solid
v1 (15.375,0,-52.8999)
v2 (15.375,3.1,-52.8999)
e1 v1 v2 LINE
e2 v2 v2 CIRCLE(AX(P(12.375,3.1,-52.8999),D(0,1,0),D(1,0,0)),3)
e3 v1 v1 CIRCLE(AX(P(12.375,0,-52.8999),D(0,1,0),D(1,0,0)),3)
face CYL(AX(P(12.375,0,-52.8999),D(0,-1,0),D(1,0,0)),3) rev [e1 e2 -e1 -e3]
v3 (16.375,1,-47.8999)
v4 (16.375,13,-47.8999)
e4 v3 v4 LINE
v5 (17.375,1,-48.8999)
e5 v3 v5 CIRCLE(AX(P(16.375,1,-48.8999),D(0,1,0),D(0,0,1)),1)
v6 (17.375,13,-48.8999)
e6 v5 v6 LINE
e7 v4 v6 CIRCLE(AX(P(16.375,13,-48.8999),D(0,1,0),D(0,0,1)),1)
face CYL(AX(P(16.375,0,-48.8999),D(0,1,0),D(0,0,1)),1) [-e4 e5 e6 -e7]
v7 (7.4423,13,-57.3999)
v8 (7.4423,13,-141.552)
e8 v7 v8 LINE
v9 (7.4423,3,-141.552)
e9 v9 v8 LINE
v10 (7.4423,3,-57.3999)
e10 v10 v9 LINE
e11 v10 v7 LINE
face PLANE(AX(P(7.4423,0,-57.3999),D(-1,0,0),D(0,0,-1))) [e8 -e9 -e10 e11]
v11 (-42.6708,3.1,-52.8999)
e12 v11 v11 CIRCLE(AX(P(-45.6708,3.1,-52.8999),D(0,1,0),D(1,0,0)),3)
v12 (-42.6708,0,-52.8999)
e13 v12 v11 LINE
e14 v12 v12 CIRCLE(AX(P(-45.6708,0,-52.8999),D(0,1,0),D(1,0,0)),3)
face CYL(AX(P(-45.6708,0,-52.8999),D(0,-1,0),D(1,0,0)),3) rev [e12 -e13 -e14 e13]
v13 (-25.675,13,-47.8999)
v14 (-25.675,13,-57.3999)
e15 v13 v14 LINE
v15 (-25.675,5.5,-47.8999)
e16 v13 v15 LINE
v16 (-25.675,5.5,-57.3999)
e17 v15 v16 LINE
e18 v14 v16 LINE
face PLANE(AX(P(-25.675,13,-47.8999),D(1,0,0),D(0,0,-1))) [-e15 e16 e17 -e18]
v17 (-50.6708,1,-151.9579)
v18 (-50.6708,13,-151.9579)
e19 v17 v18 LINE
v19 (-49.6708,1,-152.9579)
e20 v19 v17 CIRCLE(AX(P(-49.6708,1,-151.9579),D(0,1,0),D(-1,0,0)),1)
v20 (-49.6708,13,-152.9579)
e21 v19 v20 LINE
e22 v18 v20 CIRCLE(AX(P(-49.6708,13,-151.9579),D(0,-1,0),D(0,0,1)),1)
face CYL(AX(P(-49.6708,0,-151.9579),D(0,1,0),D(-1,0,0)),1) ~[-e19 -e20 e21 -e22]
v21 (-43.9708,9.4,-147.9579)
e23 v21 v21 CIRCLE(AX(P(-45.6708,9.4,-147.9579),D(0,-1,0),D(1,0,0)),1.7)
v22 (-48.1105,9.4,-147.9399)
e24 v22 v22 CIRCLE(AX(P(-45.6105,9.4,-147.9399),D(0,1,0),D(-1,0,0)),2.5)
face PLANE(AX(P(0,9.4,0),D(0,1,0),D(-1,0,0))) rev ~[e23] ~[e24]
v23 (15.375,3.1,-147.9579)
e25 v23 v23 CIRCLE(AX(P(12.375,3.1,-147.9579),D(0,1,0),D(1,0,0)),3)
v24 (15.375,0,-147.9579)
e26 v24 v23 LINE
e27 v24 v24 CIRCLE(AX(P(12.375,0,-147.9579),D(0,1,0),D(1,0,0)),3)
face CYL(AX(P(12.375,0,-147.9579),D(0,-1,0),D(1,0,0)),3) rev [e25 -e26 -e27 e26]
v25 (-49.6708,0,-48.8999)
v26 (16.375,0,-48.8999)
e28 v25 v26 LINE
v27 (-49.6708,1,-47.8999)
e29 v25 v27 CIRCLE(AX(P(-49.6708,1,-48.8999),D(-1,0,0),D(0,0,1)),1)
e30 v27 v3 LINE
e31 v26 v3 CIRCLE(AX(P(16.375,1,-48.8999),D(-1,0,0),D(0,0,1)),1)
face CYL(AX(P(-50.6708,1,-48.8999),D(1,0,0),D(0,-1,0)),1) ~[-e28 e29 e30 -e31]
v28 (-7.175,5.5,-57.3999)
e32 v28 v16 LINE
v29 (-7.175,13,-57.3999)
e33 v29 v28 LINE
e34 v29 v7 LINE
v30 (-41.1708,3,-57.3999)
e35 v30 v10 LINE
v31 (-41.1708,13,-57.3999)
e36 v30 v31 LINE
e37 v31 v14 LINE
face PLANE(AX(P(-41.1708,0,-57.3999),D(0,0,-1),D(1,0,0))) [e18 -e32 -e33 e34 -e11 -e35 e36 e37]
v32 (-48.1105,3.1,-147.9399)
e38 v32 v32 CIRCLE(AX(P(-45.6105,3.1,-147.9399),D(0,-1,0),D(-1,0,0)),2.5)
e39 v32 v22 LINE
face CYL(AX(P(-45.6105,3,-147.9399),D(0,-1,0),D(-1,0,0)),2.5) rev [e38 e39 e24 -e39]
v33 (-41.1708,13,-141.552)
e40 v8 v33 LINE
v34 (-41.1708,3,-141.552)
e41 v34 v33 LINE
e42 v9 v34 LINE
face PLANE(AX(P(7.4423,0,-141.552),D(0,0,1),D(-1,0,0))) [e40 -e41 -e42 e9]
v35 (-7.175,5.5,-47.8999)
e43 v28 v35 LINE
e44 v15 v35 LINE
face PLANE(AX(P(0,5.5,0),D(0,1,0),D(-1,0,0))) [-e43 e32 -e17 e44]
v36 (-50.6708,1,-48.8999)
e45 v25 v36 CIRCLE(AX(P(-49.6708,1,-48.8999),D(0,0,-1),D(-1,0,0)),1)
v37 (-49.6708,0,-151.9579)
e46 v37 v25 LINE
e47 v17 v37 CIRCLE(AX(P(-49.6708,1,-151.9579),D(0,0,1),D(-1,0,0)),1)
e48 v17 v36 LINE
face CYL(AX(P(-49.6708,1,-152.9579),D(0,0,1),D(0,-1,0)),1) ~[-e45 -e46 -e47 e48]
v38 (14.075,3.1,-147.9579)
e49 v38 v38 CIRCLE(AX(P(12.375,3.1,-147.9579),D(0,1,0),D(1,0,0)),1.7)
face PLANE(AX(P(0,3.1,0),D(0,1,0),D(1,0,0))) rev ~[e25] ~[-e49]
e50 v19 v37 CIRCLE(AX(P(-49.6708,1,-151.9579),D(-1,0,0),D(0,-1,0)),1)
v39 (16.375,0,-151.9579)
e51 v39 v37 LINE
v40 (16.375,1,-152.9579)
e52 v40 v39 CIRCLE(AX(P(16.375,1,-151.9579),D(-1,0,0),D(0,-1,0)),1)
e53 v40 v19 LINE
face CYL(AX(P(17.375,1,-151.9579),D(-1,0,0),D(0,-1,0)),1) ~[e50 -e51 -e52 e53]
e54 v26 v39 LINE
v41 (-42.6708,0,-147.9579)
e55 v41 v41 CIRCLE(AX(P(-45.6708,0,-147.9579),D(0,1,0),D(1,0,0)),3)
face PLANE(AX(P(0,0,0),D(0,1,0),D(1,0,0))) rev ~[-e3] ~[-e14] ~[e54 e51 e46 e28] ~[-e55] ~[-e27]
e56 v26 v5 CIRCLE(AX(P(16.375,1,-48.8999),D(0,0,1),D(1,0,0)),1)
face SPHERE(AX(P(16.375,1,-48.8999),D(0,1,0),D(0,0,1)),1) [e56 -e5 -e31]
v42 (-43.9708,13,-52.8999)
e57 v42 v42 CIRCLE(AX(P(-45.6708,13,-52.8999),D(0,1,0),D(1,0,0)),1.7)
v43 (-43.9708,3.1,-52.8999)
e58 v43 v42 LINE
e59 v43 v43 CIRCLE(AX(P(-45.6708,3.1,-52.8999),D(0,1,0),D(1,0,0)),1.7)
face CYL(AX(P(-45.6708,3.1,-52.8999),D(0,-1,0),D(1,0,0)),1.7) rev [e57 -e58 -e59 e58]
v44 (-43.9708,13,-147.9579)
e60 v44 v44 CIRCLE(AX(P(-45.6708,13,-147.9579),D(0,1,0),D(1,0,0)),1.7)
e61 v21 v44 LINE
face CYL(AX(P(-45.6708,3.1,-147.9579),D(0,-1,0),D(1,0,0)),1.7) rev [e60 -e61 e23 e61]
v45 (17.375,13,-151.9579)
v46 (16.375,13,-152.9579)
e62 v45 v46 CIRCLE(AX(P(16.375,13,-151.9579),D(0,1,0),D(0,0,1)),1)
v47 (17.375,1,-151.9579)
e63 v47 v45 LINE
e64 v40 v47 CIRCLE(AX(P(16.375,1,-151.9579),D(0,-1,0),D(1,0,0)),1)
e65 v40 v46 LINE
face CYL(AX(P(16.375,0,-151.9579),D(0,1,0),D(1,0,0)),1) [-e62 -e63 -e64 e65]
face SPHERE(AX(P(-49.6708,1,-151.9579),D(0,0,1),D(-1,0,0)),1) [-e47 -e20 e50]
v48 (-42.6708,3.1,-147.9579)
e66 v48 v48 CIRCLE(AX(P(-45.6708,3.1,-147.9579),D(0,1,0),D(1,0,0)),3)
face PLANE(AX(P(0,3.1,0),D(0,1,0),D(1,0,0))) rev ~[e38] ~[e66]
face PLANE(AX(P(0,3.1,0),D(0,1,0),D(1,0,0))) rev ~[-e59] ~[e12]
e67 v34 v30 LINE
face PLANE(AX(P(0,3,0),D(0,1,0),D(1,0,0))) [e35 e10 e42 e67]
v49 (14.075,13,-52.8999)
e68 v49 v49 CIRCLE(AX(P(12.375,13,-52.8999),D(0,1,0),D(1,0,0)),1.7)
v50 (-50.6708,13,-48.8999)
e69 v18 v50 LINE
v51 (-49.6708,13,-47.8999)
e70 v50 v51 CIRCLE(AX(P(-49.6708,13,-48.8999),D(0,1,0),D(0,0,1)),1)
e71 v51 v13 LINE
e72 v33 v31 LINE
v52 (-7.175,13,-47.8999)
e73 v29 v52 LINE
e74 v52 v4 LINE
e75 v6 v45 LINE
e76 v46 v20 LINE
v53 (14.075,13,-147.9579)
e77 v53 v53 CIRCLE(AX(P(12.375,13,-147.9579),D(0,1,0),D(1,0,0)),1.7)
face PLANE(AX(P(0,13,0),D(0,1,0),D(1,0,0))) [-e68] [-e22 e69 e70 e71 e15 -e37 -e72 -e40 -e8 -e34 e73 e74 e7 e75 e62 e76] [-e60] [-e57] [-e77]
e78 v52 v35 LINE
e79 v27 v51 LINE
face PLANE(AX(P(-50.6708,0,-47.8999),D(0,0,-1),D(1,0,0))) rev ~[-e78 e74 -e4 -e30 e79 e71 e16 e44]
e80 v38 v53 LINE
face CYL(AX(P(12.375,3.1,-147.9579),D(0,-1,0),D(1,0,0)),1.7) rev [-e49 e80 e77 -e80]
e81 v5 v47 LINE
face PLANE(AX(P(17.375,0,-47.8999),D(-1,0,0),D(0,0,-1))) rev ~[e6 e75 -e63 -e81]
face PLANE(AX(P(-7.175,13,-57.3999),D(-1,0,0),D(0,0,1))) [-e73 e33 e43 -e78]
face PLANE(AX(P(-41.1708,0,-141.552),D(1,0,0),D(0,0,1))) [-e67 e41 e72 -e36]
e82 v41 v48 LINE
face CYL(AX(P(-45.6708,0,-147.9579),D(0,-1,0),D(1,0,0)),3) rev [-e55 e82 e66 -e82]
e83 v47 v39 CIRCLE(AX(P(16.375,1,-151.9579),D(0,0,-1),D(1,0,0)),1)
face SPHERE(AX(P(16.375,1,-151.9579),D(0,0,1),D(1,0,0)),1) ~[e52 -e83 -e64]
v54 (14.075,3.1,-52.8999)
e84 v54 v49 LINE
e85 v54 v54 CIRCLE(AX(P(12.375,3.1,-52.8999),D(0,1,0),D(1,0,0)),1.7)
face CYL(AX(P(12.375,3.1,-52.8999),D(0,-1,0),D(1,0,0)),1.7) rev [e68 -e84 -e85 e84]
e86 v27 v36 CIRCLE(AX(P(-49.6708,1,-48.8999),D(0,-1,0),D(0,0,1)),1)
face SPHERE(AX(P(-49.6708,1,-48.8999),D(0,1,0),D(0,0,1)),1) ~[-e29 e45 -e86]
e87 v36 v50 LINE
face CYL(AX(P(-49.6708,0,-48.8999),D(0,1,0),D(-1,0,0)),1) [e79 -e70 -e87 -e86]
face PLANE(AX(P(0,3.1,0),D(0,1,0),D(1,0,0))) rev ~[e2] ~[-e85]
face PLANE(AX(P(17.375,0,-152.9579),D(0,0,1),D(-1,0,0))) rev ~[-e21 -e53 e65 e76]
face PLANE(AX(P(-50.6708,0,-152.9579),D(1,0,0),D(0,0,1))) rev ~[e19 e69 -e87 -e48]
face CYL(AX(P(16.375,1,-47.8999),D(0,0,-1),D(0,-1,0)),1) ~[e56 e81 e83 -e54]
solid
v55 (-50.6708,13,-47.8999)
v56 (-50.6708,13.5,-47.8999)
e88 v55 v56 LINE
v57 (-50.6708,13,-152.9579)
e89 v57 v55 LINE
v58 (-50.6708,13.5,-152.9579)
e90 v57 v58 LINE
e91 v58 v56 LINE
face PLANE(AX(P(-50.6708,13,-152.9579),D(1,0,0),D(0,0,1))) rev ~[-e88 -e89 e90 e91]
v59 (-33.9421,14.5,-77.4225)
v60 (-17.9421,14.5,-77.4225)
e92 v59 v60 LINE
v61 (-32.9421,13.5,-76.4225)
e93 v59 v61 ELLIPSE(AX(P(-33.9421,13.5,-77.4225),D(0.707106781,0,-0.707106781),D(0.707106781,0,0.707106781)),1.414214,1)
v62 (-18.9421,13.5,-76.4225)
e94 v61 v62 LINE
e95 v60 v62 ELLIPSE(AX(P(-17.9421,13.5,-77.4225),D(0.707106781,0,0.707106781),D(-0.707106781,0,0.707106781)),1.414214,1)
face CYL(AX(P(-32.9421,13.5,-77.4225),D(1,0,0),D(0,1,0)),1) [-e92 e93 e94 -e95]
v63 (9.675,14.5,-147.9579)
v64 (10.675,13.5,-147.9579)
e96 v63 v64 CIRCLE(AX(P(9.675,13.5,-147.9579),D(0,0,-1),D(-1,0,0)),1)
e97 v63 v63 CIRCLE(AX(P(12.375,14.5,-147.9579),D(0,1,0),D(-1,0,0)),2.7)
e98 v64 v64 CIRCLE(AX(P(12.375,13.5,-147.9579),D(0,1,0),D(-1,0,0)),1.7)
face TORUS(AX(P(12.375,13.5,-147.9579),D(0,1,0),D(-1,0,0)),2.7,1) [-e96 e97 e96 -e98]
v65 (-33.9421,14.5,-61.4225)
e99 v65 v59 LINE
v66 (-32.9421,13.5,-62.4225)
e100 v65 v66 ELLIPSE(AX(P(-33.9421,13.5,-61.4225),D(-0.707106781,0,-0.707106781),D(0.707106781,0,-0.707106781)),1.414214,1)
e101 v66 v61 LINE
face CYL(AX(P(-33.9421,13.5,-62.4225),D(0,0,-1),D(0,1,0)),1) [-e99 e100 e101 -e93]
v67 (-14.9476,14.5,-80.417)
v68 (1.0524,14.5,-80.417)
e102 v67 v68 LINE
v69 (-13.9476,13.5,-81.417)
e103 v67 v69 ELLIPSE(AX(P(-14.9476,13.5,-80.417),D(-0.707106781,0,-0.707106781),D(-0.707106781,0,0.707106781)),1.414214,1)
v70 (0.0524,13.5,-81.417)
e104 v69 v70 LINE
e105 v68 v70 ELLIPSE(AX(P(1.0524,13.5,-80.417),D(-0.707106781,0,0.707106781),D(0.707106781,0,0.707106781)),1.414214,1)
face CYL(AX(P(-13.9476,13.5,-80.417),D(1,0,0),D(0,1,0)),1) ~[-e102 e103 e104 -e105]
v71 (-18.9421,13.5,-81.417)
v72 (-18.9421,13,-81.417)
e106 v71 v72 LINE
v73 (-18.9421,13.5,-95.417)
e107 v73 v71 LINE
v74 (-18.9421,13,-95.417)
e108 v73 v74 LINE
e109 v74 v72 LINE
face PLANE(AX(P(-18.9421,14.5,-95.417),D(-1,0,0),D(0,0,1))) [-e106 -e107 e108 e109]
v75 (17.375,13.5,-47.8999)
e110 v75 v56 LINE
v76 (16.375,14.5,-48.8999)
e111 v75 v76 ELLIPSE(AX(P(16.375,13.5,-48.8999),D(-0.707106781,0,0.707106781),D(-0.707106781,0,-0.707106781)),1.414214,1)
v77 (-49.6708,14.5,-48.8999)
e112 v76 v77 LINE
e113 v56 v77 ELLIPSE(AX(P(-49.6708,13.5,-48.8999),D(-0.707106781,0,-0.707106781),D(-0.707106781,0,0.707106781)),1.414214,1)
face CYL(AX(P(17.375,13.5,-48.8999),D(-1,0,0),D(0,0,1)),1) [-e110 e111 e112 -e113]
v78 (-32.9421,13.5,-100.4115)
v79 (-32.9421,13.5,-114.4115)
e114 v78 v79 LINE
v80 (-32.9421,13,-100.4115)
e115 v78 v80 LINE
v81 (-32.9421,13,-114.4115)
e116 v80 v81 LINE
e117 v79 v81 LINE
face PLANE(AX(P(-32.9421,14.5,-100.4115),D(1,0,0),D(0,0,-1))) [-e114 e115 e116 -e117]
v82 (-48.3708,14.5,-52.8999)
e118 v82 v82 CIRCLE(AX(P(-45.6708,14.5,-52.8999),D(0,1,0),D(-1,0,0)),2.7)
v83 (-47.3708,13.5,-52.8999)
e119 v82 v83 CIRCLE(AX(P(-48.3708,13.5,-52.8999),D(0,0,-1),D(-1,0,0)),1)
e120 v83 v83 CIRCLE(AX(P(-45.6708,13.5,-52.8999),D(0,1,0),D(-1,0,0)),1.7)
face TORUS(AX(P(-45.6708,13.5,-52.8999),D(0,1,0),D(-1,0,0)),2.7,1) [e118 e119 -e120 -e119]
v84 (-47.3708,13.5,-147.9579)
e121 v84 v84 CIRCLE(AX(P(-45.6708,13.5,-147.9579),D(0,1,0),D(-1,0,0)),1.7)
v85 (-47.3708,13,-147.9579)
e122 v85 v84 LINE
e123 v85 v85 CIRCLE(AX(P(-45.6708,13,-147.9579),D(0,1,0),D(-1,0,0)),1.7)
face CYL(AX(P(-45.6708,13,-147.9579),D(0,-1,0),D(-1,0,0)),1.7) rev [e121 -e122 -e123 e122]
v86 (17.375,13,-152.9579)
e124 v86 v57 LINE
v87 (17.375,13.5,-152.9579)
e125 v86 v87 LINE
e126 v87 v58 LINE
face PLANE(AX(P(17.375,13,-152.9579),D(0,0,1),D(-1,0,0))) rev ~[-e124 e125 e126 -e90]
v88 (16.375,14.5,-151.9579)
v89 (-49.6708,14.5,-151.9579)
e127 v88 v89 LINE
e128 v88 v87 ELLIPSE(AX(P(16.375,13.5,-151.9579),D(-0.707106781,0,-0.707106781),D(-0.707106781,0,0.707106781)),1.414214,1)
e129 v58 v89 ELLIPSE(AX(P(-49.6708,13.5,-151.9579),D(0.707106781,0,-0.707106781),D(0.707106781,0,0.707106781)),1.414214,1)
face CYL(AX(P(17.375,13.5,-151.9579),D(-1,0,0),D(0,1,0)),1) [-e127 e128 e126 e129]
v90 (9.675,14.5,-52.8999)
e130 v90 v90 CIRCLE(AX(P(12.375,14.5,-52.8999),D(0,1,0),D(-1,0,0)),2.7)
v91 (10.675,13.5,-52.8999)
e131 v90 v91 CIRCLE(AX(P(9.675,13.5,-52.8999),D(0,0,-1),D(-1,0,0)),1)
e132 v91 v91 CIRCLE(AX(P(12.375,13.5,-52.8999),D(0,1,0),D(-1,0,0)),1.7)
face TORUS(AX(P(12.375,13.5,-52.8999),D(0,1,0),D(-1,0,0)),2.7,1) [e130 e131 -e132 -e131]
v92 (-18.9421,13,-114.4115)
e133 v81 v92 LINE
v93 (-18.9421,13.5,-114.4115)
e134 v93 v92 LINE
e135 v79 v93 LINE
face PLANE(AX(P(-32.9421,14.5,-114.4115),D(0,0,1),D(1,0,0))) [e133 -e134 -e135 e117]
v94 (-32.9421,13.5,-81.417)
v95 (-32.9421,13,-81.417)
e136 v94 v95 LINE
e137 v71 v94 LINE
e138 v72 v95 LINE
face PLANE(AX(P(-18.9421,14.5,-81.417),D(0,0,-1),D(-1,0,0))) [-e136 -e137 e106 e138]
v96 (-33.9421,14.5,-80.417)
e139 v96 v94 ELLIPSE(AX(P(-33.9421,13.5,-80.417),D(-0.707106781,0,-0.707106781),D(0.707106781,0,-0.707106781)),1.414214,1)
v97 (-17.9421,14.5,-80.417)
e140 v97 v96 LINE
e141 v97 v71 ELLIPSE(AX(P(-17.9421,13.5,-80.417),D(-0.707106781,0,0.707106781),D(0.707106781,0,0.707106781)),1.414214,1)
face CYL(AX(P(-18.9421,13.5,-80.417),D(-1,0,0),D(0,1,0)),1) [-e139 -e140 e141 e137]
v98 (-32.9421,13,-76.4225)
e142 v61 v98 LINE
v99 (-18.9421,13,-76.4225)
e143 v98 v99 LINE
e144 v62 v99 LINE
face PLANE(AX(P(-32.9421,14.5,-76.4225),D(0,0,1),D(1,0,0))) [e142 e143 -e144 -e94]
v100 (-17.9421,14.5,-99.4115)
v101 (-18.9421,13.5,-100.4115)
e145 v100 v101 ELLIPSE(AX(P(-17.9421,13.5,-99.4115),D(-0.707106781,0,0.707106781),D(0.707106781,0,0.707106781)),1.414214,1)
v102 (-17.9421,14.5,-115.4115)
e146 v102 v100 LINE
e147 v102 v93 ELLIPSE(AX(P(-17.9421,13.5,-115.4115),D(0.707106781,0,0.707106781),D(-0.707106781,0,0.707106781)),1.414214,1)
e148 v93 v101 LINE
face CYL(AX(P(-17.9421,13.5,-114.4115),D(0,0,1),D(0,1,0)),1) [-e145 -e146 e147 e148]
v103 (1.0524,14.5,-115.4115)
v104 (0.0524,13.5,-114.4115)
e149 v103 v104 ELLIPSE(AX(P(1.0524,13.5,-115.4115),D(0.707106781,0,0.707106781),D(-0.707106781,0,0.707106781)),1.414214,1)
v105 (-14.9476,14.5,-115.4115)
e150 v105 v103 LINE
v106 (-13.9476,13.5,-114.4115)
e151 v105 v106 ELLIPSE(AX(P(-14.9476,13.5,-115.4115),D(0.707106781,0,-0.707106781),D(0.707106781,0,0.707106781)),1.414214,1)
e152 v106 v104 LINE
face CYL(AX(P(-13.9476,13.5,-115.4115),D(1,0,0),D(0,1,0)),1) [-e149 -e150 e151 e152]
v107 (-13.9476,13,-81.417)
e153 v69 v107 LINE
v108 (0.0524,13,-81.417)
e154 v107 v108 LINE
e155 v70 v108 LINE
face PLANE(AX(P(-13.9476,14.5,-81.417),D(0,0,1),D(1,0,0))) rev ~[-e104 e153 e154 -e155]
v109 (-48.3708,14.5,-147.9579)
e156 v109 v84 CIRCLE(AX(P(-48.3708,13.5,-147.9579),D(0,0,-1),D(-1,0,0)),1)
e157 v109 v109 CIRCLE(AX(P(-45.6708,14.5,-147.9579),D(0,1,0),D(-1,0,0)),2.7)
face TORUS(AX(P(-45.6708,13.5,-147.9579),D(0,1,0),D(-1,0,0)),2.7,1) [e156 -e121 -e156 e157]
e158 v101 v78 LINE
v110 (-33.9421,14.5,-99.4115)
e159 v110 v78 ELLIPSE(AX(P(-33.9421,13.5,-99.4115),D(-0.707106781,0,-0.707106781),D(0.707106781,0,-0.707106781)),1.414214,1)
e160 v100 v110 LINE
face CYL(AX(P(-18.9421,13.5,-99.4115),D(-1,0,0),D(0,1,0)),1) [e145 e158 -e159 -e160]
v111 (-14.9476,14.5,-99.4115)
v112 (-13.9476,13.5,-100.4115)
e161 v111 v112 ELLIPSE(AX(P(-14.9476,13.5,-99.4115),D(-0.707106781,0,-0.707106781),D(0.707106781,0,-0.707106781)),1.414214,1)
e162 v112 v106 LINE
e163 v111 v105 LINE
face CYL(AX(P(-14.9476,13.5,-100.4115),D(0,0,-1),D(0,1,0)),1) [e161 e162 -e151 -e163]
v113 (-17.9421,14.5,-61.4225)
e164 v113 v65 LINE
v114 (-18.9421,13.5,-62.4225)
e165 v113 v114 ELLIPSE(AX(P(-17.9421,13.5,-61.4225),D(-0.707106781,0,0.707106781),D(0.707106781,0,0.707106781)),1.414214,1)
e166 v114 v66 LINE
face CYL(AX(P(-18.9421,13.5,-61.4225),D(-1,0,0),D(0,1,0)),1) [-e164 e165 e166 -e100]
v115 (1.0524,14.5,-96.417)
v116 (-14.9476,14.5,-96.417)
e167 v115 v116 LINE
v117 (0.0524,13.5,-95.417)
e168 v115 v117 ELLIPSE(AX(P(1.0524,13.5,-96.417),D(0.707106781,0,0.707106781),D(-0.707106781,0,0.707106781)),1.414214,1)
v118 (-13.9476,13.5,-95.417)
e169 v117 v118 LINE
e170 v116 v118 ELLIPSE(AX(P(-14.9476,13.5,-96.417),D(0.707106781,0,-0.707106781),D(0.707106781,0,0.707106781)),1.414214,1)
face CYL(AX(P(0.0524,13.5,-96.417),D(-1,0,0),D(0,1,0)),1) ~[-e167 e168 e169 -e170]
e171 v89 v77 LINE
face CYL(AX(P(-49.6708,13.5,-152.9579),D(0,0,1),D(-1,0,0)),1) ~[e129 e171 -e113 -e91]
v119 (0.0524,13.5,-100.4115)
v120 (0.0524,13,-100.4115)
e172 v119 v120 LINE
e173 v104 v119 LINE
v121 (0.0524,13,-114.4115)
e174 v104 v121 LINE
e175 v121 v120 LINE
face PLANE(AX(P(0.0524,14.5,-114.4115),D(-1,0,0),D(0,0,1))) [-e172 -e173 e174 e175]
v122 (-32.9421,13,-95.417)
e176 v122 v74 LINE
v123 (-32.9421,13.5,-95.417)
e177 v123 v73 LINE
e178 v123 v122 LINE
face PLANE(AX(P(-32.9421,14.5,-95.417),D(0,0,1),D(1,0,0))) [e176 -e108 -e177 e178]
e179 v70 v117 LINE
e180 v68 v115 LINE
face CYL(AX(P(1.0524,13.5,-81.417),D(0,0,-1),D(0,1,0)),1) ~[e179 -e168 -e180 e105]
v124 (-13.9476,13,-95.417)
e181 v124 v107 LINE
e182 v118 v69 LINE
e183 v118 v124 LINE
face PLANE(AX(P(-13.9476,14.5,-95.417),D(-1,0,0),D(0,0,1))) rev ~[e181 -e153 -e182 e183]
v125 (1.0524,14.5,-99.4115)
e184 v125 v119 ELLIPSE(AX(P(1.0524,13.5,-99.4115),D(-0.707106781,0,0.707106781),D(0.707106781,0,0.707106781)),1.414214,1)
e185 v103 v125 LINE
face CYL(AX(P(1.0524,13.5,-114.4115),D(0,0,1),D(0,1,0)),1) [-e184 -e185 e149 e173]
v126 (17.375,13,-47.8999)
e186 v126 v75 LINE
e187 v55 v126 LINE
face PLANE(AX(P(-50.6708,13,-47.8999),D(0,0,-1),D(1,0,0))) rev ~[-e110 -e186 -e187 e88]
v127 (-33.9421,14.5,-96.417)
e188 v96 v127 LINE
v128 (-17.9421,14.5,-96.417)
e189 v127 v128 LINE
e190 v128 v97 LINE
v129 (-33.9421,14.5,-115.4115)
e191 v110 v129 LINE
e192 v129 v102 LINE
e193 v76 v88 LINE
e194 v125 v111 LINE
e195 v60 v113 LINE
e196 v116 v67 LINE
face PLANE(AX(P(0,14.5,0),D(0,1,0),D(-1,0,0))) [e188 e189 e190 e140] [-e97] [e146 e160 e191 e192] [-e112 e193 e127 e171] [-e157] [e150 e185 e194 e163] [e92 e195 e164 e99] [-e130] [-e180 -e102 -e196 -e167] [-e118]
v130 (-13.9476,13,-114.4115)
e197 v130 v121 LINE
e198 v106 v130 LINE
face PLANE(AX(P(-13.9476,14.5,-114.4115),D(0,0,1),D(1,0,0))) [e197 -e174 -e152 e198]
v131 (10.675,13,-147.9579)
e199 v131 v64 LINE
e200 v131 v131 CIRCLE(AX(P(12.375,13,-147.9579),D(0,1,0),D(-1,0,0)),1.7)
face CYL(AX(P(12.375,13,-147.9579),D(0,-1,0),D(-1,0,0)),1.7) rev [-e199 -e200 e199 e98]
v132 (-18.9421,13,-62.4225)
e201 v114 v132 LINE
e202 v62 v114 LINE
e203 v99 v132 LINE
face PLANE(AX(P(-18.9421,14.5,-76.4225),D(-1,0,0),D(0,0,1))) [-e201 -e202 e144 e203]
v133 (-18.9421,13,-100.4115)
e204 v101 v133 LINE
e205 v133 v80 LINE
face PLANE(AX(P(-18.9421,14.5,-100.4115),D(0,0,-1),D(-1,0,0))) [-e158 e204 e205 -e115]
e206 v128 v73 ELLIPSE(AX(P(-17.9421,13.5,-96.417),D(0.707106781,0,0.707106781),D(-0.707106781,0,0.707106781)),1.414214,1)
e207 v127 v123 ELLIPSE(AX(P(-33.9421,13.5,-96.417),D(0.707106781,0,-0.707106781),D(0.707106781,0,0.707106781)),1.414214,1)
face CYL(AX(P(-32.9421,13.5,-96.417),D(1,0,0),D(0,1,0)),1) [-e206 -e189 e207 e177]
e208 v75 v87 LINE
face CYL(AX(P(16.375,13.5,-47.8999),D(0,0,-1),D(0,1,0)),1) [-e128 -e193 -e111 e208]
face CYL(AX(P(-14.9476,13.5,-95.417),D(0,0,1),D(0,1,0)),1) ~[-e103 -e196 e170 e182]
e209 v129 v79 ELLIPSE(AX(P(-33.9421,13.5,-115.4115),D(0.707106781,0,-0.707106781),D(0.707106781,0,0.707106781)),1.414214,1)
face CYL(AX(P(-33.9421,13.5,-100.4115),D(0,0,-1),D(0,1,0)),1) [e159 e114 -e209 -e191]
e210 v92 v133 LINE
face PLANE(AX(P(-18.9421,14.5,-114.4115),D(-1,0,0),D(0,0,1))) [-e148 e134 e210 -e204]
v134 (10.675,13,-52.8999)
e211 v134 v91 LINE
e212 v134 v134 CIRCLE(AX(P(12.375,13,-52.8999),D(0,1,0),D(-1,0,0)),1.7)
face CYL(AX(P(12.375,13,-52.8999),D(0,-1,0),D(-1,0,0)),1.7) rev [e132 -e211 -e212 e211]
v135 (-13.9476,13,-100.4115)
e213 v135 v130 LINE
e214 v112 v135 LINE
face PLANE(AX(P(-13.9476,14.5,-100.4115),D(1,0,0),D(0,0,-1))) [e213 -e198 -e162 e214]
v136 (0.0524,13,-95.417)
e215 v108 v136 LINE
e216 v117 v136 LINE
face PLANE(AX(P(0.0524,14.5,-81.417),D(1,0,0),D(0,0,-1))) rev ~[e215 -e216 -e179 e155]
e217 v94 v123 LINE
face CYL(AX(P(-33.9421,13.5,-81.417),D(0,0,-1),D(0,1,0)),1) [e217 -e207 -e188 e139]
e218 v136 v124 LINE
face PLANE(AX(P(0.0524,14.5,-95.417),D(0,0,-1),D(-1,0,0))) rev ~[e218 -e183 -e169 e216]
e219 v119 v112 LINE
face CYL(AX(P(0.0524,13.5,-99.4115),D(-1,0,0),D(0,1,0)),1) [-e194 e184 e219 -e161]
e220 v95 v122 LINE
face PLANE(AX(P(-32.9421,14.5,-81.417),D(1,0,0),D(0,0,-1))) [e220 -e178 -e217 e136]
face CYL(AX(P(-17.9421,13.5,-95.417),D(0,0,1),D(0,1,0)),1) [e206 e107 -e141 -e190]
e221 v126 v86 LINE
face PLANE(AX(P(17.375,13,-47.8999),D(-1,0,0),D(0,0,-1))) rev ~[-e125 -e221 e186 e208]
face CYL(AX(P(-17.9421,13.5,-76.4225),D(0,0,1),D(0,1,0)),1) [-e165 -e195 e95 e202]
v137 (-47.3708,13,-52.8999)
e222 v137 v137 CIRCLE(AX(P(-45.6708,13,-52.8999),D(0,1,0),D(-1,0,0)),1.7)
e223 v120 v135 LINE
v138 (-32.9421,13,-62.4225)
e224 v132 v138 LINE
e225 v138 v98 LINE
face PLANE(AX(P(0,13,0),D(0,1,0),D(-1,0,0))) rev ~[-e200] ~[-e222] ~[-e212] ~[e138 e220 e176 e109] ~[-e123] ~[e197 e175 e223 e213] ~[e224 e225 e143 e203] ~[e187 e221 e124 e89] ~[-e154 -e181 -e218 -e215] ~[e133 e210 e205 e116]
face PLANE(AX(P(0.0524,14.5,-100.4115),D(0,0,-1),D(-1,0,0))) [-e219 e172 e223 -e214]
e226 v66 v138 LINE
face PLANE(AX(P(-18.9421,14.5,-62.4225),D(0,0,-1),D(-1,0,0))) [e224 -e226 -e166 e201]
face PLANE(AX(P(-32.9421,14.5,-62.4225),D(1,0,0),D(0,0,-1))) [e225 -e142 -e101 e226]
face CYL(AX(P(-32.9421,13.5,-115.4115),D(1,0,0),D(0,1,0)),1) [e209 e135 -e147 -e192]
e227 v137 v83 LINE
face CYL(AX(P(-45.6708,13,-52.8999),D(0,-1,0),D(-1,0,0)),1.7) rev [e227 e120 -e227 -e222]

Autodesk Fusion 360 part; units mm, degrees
sketch "Sketch1" plane through (0, 0, 0) normal (0, 1, 0) x (1, 0, 0)
  line L0 (-41.1708, 57.3999) -> (7.4423, 57.3999)
  line L1 (7.4423, 57.3999) -> (7.4423, 141.552)
  line L2 (7.4423, 141.552) -> (-41.1708, 141.552)
  line L3 (-41.1708, 141.552) -> (-41.1708, 57.3999)
  line L4 (-50.6708, 47.8999) -> (17.375, 47.8999)
  line L5 (17.375, 47.8999) -> (17.375, 152.9579)
  line L6 (17.375, 152.9579) -> (-50.6708, 152.9579)
  line L7 (-50.6708, 152.9579) -> (-50.6708, 47.8999)
  circle A0 centre (-45.6708, 147.9579) radius 1.7
  circle A1 centre (-45.6708, 52.8999) radius 1.7
  circle A2 centre (12.375, 52.8999) radius 1.7
  circle A3 centre (12.375, 147.9579) radius 1.7
  circle A4 centre (-45.6708, 52.8999) radius 3
  circle A5 centre (12.375, 52.8999) radius 3
  circle A6 centre (12.375, 147.9579) radius 3
  circle A7 centre (-45.6708, 147.9579) radius 3
  dimension "d1" = 105.058
  dimension "d2" = 68.0458
  dimension "d3" = 48.6131
  dimension "d4" = 84.1522
  dimension "d5" = 9.5
  dimension "d6" = 9.5
  dimension "d7" = 3.4
  dimension "d8" = 5
  dimension "d9" = 5
  dimension "d10" = 3.4
  dimension "d11" = 5
  dimension "d12" = 5
  dimension "d13" = 3.4
  dimension "d14" = 5
  dimension "d15" = 5
  dimension "d16" = 3.4
  dimension "d17" = 5
  dimension "d18" = 5
  dimension "d19" = 6
  dimension "d20" = 6
  dimension "d21" = 6
  dimension "d22" = 6
extrude "Extrude1" add sketch "Sketch1" along normal blind 9.9 from surface at 3.1 contours A4 | A5 | A6 | A7 makes body 1 at (-48.667, 9.7, -52.7503) makes body 2 at (-42.9063, 9.7, -149.1232) makes body 3 at (15.3713, 9.7, -52.7503) makes body 4 at (9.6106, 9.7, -149.1232)
extrude "Extrude2" add sketch "Sketch1" along normal blind 13 contours L4 L5 L6 L7 bodies 1 2 3 4
extrude "Extrude3" add sketch "Sketch1" along normal blind 3 contours L0 L1 L2 L3 bodies 1
sketch "Sketch2" plane through (0, 13, 0) normal (0, 1, 0) x (-1, 0, 0)
  circle A0 centre (45.6708, -52.8999) radius 1.7
  circle A1 centre (-12.375, -147.9579) radius 1.7
  line L0 (41.1708, -57.3999) -> (41.1708, -141.552)
  line L1 (41.1708, -141.552) -> (-7.4423, -141.552)
  line L2 (-7.4423, -141.552) -> (-7.4423, -57.3999)
  line L3 (-7.4423, -57.3999) -> (41.1708, -57.3999)
  line L4 (50.6708, -152.9579) -> (50.6708, -47.8999)
  line L5 (50.6708, -47.8999) -> (-17.375, -47.8999)
  line L6 (-17.375, -47.8999) -> (-17.375, -152.9579)
  line L7 (-17.375, -152.9579) -> (50.6708, -152.9579)
  circle A2 centre (45.6708, -147.9579) radius 1.7
  circle A3 centre (-12.375, -52.8999) radius 1.7
  line L8 (7.175, -47.8999) -> (25.675, -47.8999)
  line L9 (25.675, -47.8999) -> (25.675, -57.3999)
  line L10 (25.675, -57.3999) -> (7.175, -57.3999)
  line L11 (7.175, -57.3999) -> (7.175, -47.8999)
  line L12 (-17.375, -47.8999) -> (-17.375, -152.9579)
  line L13 (-17.375, -152.9579) -> (50.6708, -152.9579)
  line L14 (50.6708, -152.9579) -> (50.6708, -47.8999)
  line L15 (50.6708, -47.8999) -> (-17.375, -47.8999)
  line L16 (-17.375, -47.8999) -> (-17.375, -152.9579)
  point P0 (50.6708, -152.9579)
  point P1 (-17.375, -152.9579)
  point P2 (50.6708, -47.8999)
  point P3 (-17.375, -47.8999)
  dimension "d30" = 18.5
  dimension "d32" = 24.55
extrude "Extrude4" cut sketch "Sketch2" against normal blind 7.5 contours L3 L5 L8 L9 L10 L11 L15 bodies 1
sketch "Sketch3" plane through (0, 0, 0) normal (0, 1, 0) x (1, 0, 0)
sketch "Sketch4" plane through (0, 3, 0) normal (0, 1, 0) x (-1, 0, 0)
  line L0 (41.1708, -141.552) -> (41.1708, -57.3999)
  line L1 (41.1708, -57.3999) -> (-7.4423, -57.3999)
  line L2 (-7.4423, -57.3999) -> (-7.4423, -141.552)
  line L3 (-7.4423, -141.552) -> (41.1708, -141.552)
  line L4 (6.8441, -1.7803) -> (6.8447, -1.7809)
  line L5 (6.8447, -1.7809) -> (6.8447, -1.7812)
  line L6 (6.8447, -1.7812) -> (6.8447, -5.0625)
  line L7 (6.8447, -5.0625) -> (6.8447, -5.0629)
  line L8 (6.8447, -5.0629) -> (6.8441, -5.0634)
  line L9 (6.8441, -5.0634) -> (6.8438, -5.0635)
  line L10 (6.8438, -5.0635) -> (4.9688, -5.0635)
  line L11 (4.9688, -5.0635) -> (4.9684, -5.0634)
  line L12 (4.9684, -5.0634) -> (4.9678, -5.0629)
  line L13 (4.9678, -5.0629) -> (4.9678, -5.0625)
  line L14 (4.9678, -5.0625) -> (4.9678, -1.7812)
  line L15 (4.9678, -1.7812) -> (4.9678, -1.7809)
  line L16 (4.9678, -1.7809) -> (4.9684, -1.7803)
  line L17 (4.9684, -1.7803) -> (4.9688, -1.7803)
  line L18 (4.9688, -1.7803) -> (6.8438, -1.7803)
  line L19 (6.8438, -1.7803) -> (6.8441, -1.7803)
  line L20 (4.9697, -1.7822) -> (4.9697, -5.0615)
  line L21 (4.9697, -5.0615) -> (6.8428, -5.0615)
  line L22 (6.8428, -5.0615) -> (6.8428, -1.7822)
  line L23 (6.8428, -1.7822) -> (4.9697, -1.7822)
  circle A0 centre (6.75, -4.9688) radius 0.0433
  circle A1 centre (5.0625, -4.9688) radius 0.0433
  circle A2 centre (6.75, -1.875) radius 0.0433
  circle A3 centre (5.0625, -1.875) radius 0.0433
  circle A4 centre (5.3312, -3.0938) radius 0.0335
  circle A5 centre (5.5312, -3.0938) radius 0.0787
  circle A6 centre (5.7313, -3.0938) radius 0.0335
  circle A7 centre (5.6312, -2.8937) radius 0.0295
  circle A8 centre (5.3812, -2.9937) radius 0.0295
  circle A9 centre (6.0813, -3.0938) radius 0.0335
  circle A10 centre (6.2812, -3.0938) radius 0.0787
  circle A11 centre (6.4813, -3.0938) radius 0.0335
  circle A12 centre (6.3813, -2.8937) radius 0.0295
  circle A13 centre (6.1313, -2.9937) radius 0.0295
  circle A14 centre (5.5858, -1.8956) radius 0.0175
  circle A15 centre (5.5858, -1.9956) radius 0.0175
  circle A16 centre (5.5858, -2.0956) radius 0.0175
  circle A17 centre (5.5858, -2.1956) radius 0.0175
  circle A18 centre (5.5858, -2.2956) radius 0.0175
  circle A19 centre (5.5858, -2.3956) radius 0.0175
  circle A20 centre (5.5858, -2.4956) radius 0.0175
  circle A21 centre (6.1858, -2.4956) radius 0.0175
  circle A22 centre (6.1858, -2.3956) radius 0.0175
  circle A23 centre (6.1858, -2.2956) radius 0.0175
  circle A24 centre (6.1858, -2.1956) radius 0.0175
  circle A25 centre (6.1858, -2.0956) radius 0.0175
  circle A26 centre (6.1858, -1.9956) radius 0.0175
  circle A27 centre (6.1858, -1.8956) radius 0.0175
  circle A28 centre (6.0813, -3.8438) radius 0.0335
  circle A29 centre (6.2812, -3.8438) radius 0.0787
  circle A30 centre (6.4813, -3.8438) radius 0.0335
  circle A31 centre (6.3813, -3.6437) radius 0.0295
  circle A32 centre (6.1313, -3.7438) radius 0.0295
  circle A33 centre (5.3312, -3.8438) radius 0.0335
  circle A34 centre (5.5312, -3.8438) radius 0.0787
  circle A35 centre (5.7313, -3.8438) radius 0.0335
  circle A36 centre (5.6312, -3.6437) radius 0.0295
  circle A37 centre (5.3812, -3.7438) radius 0.0295
  circle A38 centre (5.3312, -4.5938) radius 0.0335
  circle A39 centre (5.5312, -4.5938) radius 0.0787
  circle A40 centre (5.7313, -4.5938) radius 0.0335
  circle A41 centre (5.6312, -4.3937) radius 0.0295
  circle A42 centre (5.3812, -4.4938) radius 0.0295
  circle A43 centre (6.75, -4.9688) radius 0.0433
  circle A44 centre (5.0625, -4.9688) radius 0.0433
  circle A45 centre (6.75, -1.875) radius 0.0433
  circle A46 centre (5.0625, -1.875) radius 0.0433
  circle A47 centre (5.3312, -3.0938) radius 0.0335
  circle A48 centre (5.5312, -3.0938) radius 0.0787
  circle A49 centre (5.7313, -3.0938) radius 0.0335
  circle A50 centre (5.6312, -2.8937) radius 0.0295
  circle A51 centre (5.3812, -2.9937) radius 0.0295
  circle A52 centre (6.0813, -3.0938) radius 0.0335
  circle A53 centre (6.2812, -3.0938) radius 0.0787
  circle A54 centre (6.4813, -3.0938) radius 0.0335
  circle A55 centre (6.3813, -2.8937) radius 0.0295
  circle A56 centre (6.1313, -2.9937) radius 0.0295
  circle A57 centre (5.5858, -1.8956) radius 0.0175
  circle A58 centre (5.5858, -1.9956) radius 0.0175
  circle A59 centre (5.5858, -2.0956) radius 0.0175
  circle A60 centre (5.5858, -2.1956) radius 0.0175
  circle A61 centre (5.5858, -2.2956) radius 0.0175
  circle A62 centre (5.5858, -2.3956) radius 0.0175
  circle A63 centre (5.5858, -2.4956) radius 0.0175
  circle A64 centre (6.1858, -2.4956) radius 0.0175
  circle A65 centre (6.1858, -2.3956) radius 0.0175
  circle A66 centre (6.1858, -2.2956) radius 0.0175
  circle A67 centre (6.1858, -2.1956) radius 0.0175
  circle A68 centre (6.1858, -2.0956) radius 0.0175
  circle A69 centre (6.1858, -1.9956) radius 0.0175
  circle A70 centre (6.1858, -1.8956) radius 0.0175
  circle A71 centre (6.0813, -3.8438) radius 0.0335
  circle A72 centre (6.2812, -3.8438) radius 0.0787
  circle A73 centre (6.4813, -3.8438) radius 0.0335
  circle A74 centre (6.3813, -3.6437) radius 0.0295
  circle A75 centre (6.1313, -3.7438) radius 0.0295
  circle A76 centre (5.3312, -3.8438) radius 0.0335
  circle A77 centre (5.5312, -3.8438) radius 0.0787
  circle A78 centre (5.7313, -3.8438) radius 0.0335
  circle A79 centre (5.6312, -3.6437) radius 0.0295
  circle A80 centre (5.3812, -3.7438) radius 0.0295
  circle A81 centre (5.3312, -4.5938) radius 0.0335
  circle A82 centre (5.5312, -4.5938) radius 0.0787
  circle A83 centre (5.7313, -4.5938) radius 0.0335
  circle A84 centre (5.6312, -4.3937) radius 0.0295
  circle A85 centre (5.3812, -4.4938) radius 0.0295
  circle A86 centre (45.6105, -147.9399) radius 2.5
  circle A87 centre (-12.2673, -147.927) radius 2.5
  curve A88
  circle A89 centre (-12.3196, -52.8556) radius 2.5
  dimension "d35" = 5
  dimension "d36" = 5
  dimension "d37" = 5
  dimension "d38" = 5
extrude "Extrude5" cut sketch "Sketch4" along normal blind 6.4 contours A86 bodies 1
sketch "macropad-Edge_Cuts" plane through (0, 3, 0) normal (0, 1, 0) x (0, 0, 1)
  line L0 (6.8441, -1.7803) -> (6.8447, -1.7809)
  line L1 (6.8447, -1.7809) -> (6.8447, -1.7812)
  line L2 (6.8447, -1.7812) -> (6.8447, -5.0625)
  line L3 (6.8447, -5.0625) -> (6.8447, -5.0629)
  line L4 (6.8447, -5.0629) -> (6.8441, -5.0634)
  line L5 (6.8441, -5.0634) -> (6.8438, -5.0635)
  line L6 (6.8438, -5.0635) -> (4.9688, -5.0635)
  line L7 (4.9688, -5.0635) -> (4.9684, -5.0634)
  line L8 (4.9684, -5.0634) -> (4.9678, -5.0629)
  line L9 (4.9678, -5.0629) -> (4.9678, -5.0625)
  line L10 (4.9678, -5.0625) -> (4.9678, -1.7812)
  line L11 (4.9678, -1.7812) -> (4.9678, -1.7809)
  line L12 (4.9678, -1.7809) -> (4.9684, -1.7803)
  line L13 (4.9684, -1.7803) -> (4.9688, -1.7803)
  line L14 (4.9688, -1.7803) -> (6.8438, -1.7803)
  line L15 (6.8438, -1.7803) -> (6.8441, -1.7803)
  line L16 (4.9697, -1.7822) -> (4.9697, -5.0615)
  line L17 (4.9697, -5.0615) -> (6.8428, -5.0615)
  line L18 (6.8428, -5.0615) -> (6.8428, -1.7822)
  line L19 (6.8428, -1.7822) -> (4.9697, -1.7822)
  circle A0 centre (6.75, -4.9688) radius 0.0433
  circle A1 centre (-33.7206, -2.9937) radius 0.0433
  circle A2 centre (6.75, -1.875) radius 0.0433
  circle A3 centre (5.0625, -1.875) radius 0.0433
  circle A4 centre (5.3312, -3.0938) radius 0.0335
  circle A5 centre (5.5312, -3.0938) radius 0.0787
  circle A6 centre (5.7313, -3.0938) radius 0.0335
  circle A7 centre (5.6312, -2.8937) radius 0.0295
  circle A8 centre (5.3812, -2.9937) radius 0.0295
  circle A9 centre (6.0813, -3.0938) radius 0.0335
  circle A10 centre (6.2812, -3.0938) radius 0.0787
  circle A11 centre (6.4813, -3.0938) radius 0.0335
  circle A12 centre (6.3813, -2.8937) radius 0.0295
  circle A13 centre (6.1313, -2.9937) radius 0.0295
  circle A14 centre (5.5858, -1.8956) radius 0.0175
  circle A15 centre (5.5858, -1.9956) radius 0.0175
  circle A16 centre (5.5858, -2.0956) radius 0.0175
  circle A17 centre (5.5858, -2.1956) radius 0.0175
  circle A18 centre (5.5858, -2.2956) radius 0.0175
  circle A19 centre (5.5858, -2.3956) radius 0.0175
  circle A20 centre (5.5858, -2.4956) radius 0.0175
  circle A21 centre (6.1858, -2.4956) radius 0.0175
  circle A22 centre (6.1858, -2.3956) radius 0.0175
  circle A23 centre (6.1858, -2.2956) radius 0.0175
  circle A24 centre (6.1858, -2.1956) radius 0.0175
  circle A25 centre (6.1858, -2.0956) radius 0.0175
  circle A26 centre (6.1858, -1.9956) radius 0.0175
  circle A27 centre (6.1858, -1.8956) radius 0.0175
  circle A28 centre (6.0813, -3.8438) radius 0.0335
  circle A29 centre (6.2812, -3.8438) radius 0.0787
  circle A30 centre (6.4813, -3.8438) radius 0.0335
  circle A31 centre (6.3813, -3.6437) radius 0.0295
  circle A32 centre (6.1313, -3.7438) radius 0.0295
  circle A33 centre (5.3312, -3.8438) radius 0.0335
  circle A34 centre (5.5312, -3.8438) radius 0.0787
  circle A35 centre (5.7313, -3.8438) radius 0.0335
  circle A36 centre (5.6312, -3.6437) radius 0.0295
  circle A37 centre (-20, -90) radius 0.0295
  circle A38 centre (5.3312, -4.5938) radius 0.0335
  circle A39 centre (5.5312, -4.5938) radius 0.0787
  circle A40 centre (-20, -30) radius 0.0335
  circle A41 centre (5.6312, -4.3937) radius 0.0295
  circle A42 centre (5.3812, -4.4938) radius 0.0295
  circle A43 centre (-34.7247, -73.7928) radius 0.0433
  circle A44 centre (5.0625, -4.9688) radius 0.0433
  circle A45 centre (6.75, -1.875) radius 0.0433
  circle A46 centre (5.0625, -1.875) radius 0.0433
  circle A47 centre (5.3312, -3.0938) radius 0.0335
  circle A48 centre (5.5312, -3.0938) radius 0.0787
  circle A49 centre (5.7313, -3.0938) radius 0.0335
  circle A50 centre (5.6312, -2.8937) radius 0.0295
  circle A51 centre (5.3812, -2.9937) radius 0.0295
  circle A52 centre (6.0813, -3.0938) radius 0.0335
  circle A53 centre (6.2812, -3.0938) radius 0.0787
  circle A54 centre (6.4813, -3.0938) radius 0.0335
  circle A55 centre (6.3813, -2.8937) radius 0.0295
  circle A56 centre (6.1313, -2.9937) radius 0.0295
  circle A57 centre (5.5858, -1.8956) radius 0.0175
  circle A58 centre (5.5858, -1.9956) radius 0.0175
  circle A59 centre (5.5858, -2.0956) radius 0.0175
  circle A60 centre (5.5858, -2.1956) radius 0.0175
  circle A61 centre (5.5858, -2.2956) radius 0.0175
  circle A62 centre (5.5858, -2.3956) radius 0.0175
  circle A63 centre (5.5858, -2.4956) radius 0.0175
  circle A64 centre (6.1858, -2.4956) radius 0.0175
  circle A65 centre (6.1858, -2.3956) radius 0.0175
  circle A66 centre (6.1858, -2.2956) radius 0.0175
  circle A67 centre (6.1858, -2.1956) radius 0.0175
  circle A68 centre (6.1858, -2.0956) radius 0.0175
  circle A69 centre (6.1858, -1.9956) radius 0.0175
  circle A70 centre (6.1858, -1.8956) radius 0.0175
  circle A71 centre (-40.0793, -83.4982) radius 0.0335
  circle A72 centre (6.2812, -3.8438) radius 0.0787
  circle A73 centre (6.4813, -3.8438) radius 0.0335
  circle A74 centre (6.3813, -3.6437) radius 0.0295
  circle A75 centre (-30.374, -73.7928) radius 0.0295
  circle A76 centre (-30, -50) radius 0.0335
  circle A77 centre (5.5312, -3.8438) radius 0.0787
  circle A78 centre (5.7313, -3.8438) radius 0.0335
  circle A79 centre (5.6312, -3.6437) radius 0.0295
  circle A80 centre (-14.9792, -54.0474) radius 0.0295
  circle A81 centre (5.3312, -4.5938) radius 0.0335
  circle A82 centre (5.5312, -4.5938) radius 0.0787
  circle A83 centre (5.7313, -4.5938) radius 0.0335
  circle A84 centre (-44.43, -96.2155) radius 0.0295
  circle A85 centre (5.3812, -4.4938) radius 0.0295
extrude "Extrude6" add sketch "Sketch2" along normal blind 1.5 separate body makes body 5
sketch "Sketch6" plane through (0, 14.5, 0) normal (0, 1, 0) x (-1, 0, 0)
  circle A0 centre (45.6708, -147.9579) radius 1.7
  circle A1 centre (-12.375, -147.9579) radius 1.7
  circle A2 centre (45.6708, -52.8999) radius 1.7
  circle A3 centre (-12.375, -52.8999) radius 1.7
  line L0 (-17.375, -47.8999) -> (-17.375, -152.9579)
  line L1 (-17.375, -152.9579) -> (50.6708, -152.9579)
  line L2 (50.6708, -152.9579) -> (50.6708, -47.8999)
  line L3 (50.6708, -47.8999) -> (-17.375, -47.8999)
  line L4 (-7.3078, -140.6749) -> (-7.3213, -140.6614)
  line L5 (-7.3213, -140.6614) -> (-7.3232, -140.6519)
  line L6 (-7.3232, -140.6519) -> (-7.3232, -57.5509)
  line L7 (-7.3232, -57.5509) -> (-7.3213, -57.5414)
  line L8 (-7.3213, -57.5414) -> (-7.3078, -57.5279)
  line L9 (-7.3078, -57.5279) -> (-7.2983, -57.526)
  line L10 (-7.2983, -57.526) -> (40.188, -57.526)
  line L11 (40.188, -57.526) -> (40.1975, -57.5279)
  line L12 (40.1975, -57.5279) -> (40.211, -57.5414)
  line L13 (40.211, -57.5414) -> (40.2129, -57.5509)
  line L14 (40.2129, -57.5509) -> (40.2129, -140.6519)
  line L15 (40.2129, -140.6519) -> (40.211, -140.6614)
  line L16 (40.211, -140.6614) -> (40.1975, -140.6749)
  line L17 (40.1975, -140.6749) -> (40.188, -140.6768)
  line L18 (40.188, -140.6768) -> (-7.2983, -140.6768)
  line L19 (-7.2983, -140.6768) -> (-7.3078, -140.6749)
  line L20 (40.163, -140.6269) -> (40.163, -57.5758)
  line L21 (40.163, -57.5758) -> (-7.2734, -57.5758)
  line L22 (-7.2734, -57.5758) -> (-7.2734, -140.6269)
  line L23 (-7.2734, -140.6269) -> (40.163, -140.6269)
  circle A4 centre (-4.924, -59.9252) radius 1.0968
  circle A5 centre (37.8137, -59.9252) radius 1.0968
  circle A6 centre (-4.924, -138.2775) radius 1.0968
  circle A7 centre (37.8137, -138.2775) radius 1.0968
  circle A8 centre (31.0073, -107.4115) radius 0.8475
  circle A9 centre (25.9421, -107.4115) radius 1.9942
  circle A10 centre (20.8769, -107.4115) radius 0.8475
  circle A11 centre (23.4095, -112.4767) radius 0.7478
  circle A12 centre (29.741, -109.9441) radius 0.7478
  circle A13 centre (12.0128, -107.4115) radius 0.8475
  circle A14 centre (6.9476, -107.4115) radius 1.9942
  circle A15 centre (1.8824, -107.4115) radius 0.8475
  circle A16 centre (4.415, -112.4767) radius 0.7478
  circle A17 centre (10.7465, -109.9441) radius 0.7478
  circle A18 centre (24.5599, -137.7556) radius 0.4432
  circle A19 centre (24.5599, -135.223) radius 0.4432
  circle A20 centre (24.5599, -132.6904) radius 0.4432
  circle A21 centre (24.5599, -130.1578) radius 0.4432
  circle A22 centre (24.5599, -127.6252) radius 0.4432
  circle A23 centre (24.5599, -125.0926) radius 0.4432
  circle A24 centre (24.5599, -122.56) radius 0.4432
  circle A25 centre (9.3643, -122.56) radius 0.4432
  circle A26 centre (9.3643, -125.0926) radius 0.4432
  circle A27 centre (9.3643, -127.6252) radius 0.4432
  circle A28 centre (9.3643, -130.1578) radius 0.4432
  circle A29 centre (9.3643, -132.6904) radius 0.4432
  circle A30 centre (9.3643, -135.223) radius 0.4432
  circle A31 centre (9.3643, -137.7556) radius 0.4432
  circle A32 centre (12.0128, -88.417) radius 0.8475
  circle A33 centre (6.9476, -88.417) radius 1.9942
  circle A34 centre (1.8824, -88.417) radius 0.8475
  circle A35 centre (4.415, -93.4822) radius 0.7478
  circle A36 centre (10.7465, -90.9496) radius 0.7478
  circle A37 centre (31.0073, -88.417) radius 0.8475
  circle A38 centre (25.9421, -88.417) radius 1.9942
  circle A39 centre (20.8769, -88.417) radius 0.8475
  circle A40 centre (23.4095, -93.4822) radius 0.7478
  circle A41 centre (29.741, -90.9496) radius 0.7478
  circle A42 centre (31.0073, -69.4225) radius 0.8475
  circle A43 centre (25.9421, -69.4225) radius 1.9942
  circle A44 centre (20.8769, -69.4225) radius 0.8475
  circle A45 centre (23.4095, -74.4877) radius 0.7478
  circle A46 centre (29.741, -71.9551) radius 0.7478
  circle A47 centre (-4.924, -59.9252) radius 1.0968
  circle A48 centre (37.8137, -59.9252) radius 1.0968
  circle A49 centre (-4.924, -138.2775) radius 1.0968
  circle A50 centre (37.8137, -138.2775) radius 1.0968
  circle A51 centre (31.0073, -107.4115) radius 0.8475
  circle A52 centre (25.9421, -107.4115) radius 1.9942
  circle A53 centre (20.8769, -107.4115) radius 0.8475
  circle A54 centre (23.4095, -112.4767) radius 0.7478
  circle A55 centre (29.741, -109.9441) radius 0.7478
  circle A56 centre (12.0128, -107.4115) radius 0.8475
  circle A57 centre (6.9476, -107.4115) radius 1.9942
  circle A58 centre (1.8824, -107.4115) radius 0.8475
  circle A59 centre (4.415, -112.4767) radius 0.7478
  circle A60 centre (10.7465, -109.9441) radius 0.7478
  circle A61 centre (24.5599, -137.7556) radius 0.4432
  circle A62 centre (24.5599, -135.223) radius 0.4432
  circle A63 centre (24.5599, -132.6904) radius 0.4432
  circle A64 centre (24.5599, -130.1578) radius 0.4432
  circle A65 centre (24.5599, -127.6252) radius 0.4432
  circle A66 centre (24.5599, -125.0926) radius 0.4432
  circle A67 centre (24.5599, -122.56) radius 0.4432
  circle A68 centre (9.3643, -122.56) radius 0.4432
  circle A69 centre (9.3643, -125.0926) radius 0.4432
  circle A70 centre (9.3643, -127.6252) radius 0.4432
  circle A71 centre (9.3643, -130.1578) radius 0.4432
  circle A72 centre (9.3643, -132.6904) radius 0.4432
  circle A73 centre (9.3643, -135.223) radius 0.4432
  circle A74 centre (9.3643, -137.7556) radius 0.4432
  circle A75 centre (12.0128, -88.417) radius 0.8475
  circle A76 centre (6.9476, -88.417) radius 1.9942
  circle A77 centre (1.8824, -88.417) radius 0.8475
  circle A78 centre (4.415, -93.4822) radius 0.7478
  circle A79 centre (10.7465, -90.9496) radius 0.7478
  circle A80 centre (31.0073, -88.417) radius 0.8475
  circle A81 centre (25.9421, -88.417) radius 1.9942
  circle A82 centre (20.8769, -88.417) radius 0.8475
  circle A83 centre (23.4095, -93.4822) radius 0.7478
  circle A84 centre (29.741, -90.9496) radius 0.7478
  circle A85 centre (31.0073, -69.4225) radius 0.8475
  circle A86 centre (25.9421, -69.4225) radius 1.9942
  circle A87 centre (20.8769, -69.4225) radius 0.8475
  circle A88 centre (23.4095, -74.4877) radius 0.7478
  circle A89 centre (29.741, -71.9551) radius 0.7478
  line L24 (0.9476, -82.417) -> (12.9476, -82.417)
  line L25 (12.9476, -82.417) -> (12.9476, -94.417)
  line L26 (12.9476, -94.417) -> (0.9476, -94.417)
  line L27 (0.9476, -94.417) -> (0.9476, -82.417)
  line L28 (0.9476, -82.417) -> (12.9476, -94.417) construction
  line L29 (12.9476, -82.417) -> (0.9476, -94.417) construction
  line L30 (31.9421, -63.4225) -> (19.9421, -63.4225)
  line L31 (19.9421, -63.4225) -> (19.9421, -75.4225)
  line L32 (19.9421, -75.4225) -> (31.9421, -75.4225)
  line L33 (31.9421, -75.4225) -> (31.9421, -63.4225)
  line L34 (31.9421, -63.4225) -> (19.9421, -75.4225) construction
  line L35 (19.9421, -63.4225) -> (31.9421, -75.4225) construction
  line L36 (31.9421, -82.417) -> (19.9421, -82.417)
  line L37 (19.9421, -82.417) -> (19.9421, -94.417)
  line L38 (19.9421, -94.417) -> (31.9421, -94.417)
  line L39 (31.9421, -94.417) -> (31.9421, -82.417)
  line L40 (31.9421, -82.417) -> (19.9421, -94.417) construction
  line L41 (19.9421, -82.417) -> (31.9421, -94.417) construction
  line L42 (12.9476, -101.4115) -> (0.9476, -101.4115)
  line L43 (0.9476, -101.4115) -> (0.9476, -113.4115)
  line L44 (0.9476, -113.4115) -> (12.9476, -113.4115)
  line L45 (12.9476, -113.4115) -> (12.9476, -101.4115)
  line L46 (12.9476, -101.4115) -> (0.9476, -113.4115) construction
  line L47 (0.9476, -101.4115) -> (12.9476, -113.4115) construction
  line L48 (19.9421, -101.4115) -> (31.9421, -101.4115)
  line L49 (31.9421, -101.4115) -> (31.9421, -113.4115)
  line L50 (31.9421, -113.4115) -> (19.9421, -113.4115)
  line L51 (19.9421, -113.4115) -> (19.9421, -101.4115)
  line L52 (19.9421, -101.4115) -> (31.9421, -113.4115) construction
  line L53 (31.9421, -101.4115) -> (19.9421, -113.4115) construction
  line L54 (13.9476, -81.417) -> (-0.0524, -81.417)
  line L55 (-0.0524, -81.417) -> (-0.0524, -95.417)
  line L56 (-0.0524, -95.417) -> (13.9476, -95.417)
  line L57 (13.9476, -95.417) -> (13.9476, -81.417)
  line L58 (13.9476, -81.417) -> (-0.0524, -95.417) construction
  line L59 (-0.0524, -81.417) -> (13.9476, -95.417) construction
  line L60 (18.9421, -62.4225) -> (32.9421, -62.4225)
  line L61 (32.9421, -62.4225) -> (32.9421, -76.4225)
  line L62 (32.9421, -76.4225) -> (18.9421, -76.4225)
  line L63 (18.9421, -76.4225) -> (18.9421, -62.4225)
  line L64 (18.9421, -62.4225) -> (32.9421, -76.4225) construction
  line L65 (32.9421, -62.4225) -> (18.9421, -76.4225) construction
  line L66 (18.9421, -81.417) -> (32.9421, -81.417)
  line L67 (32.9421, -81.417) -> (32.9421, -95.417)
  line L68 (32.9421, -95.417) -> (18.9421, -95.417)
  line L69 (18.9421, -95.417) -> (18.9421, -81.417)
  line L70 (18.9421, -81.417) -> (32.9421, -95.417) construction
  line L71 (32.9421, -81.417) -> (18.9421, -95.417) construction
  line L72 (-0.0524, -100.4115) -> (13.9476, -100.4115)
  line L73 (13.9476, -100.4115) -> (13.9476, -114.4115)
  line L74 (13.9476, -114.4115) -> (-0.0524, -114.4115)
  line L75 (-0.0524, -114.4115) -> (-0.0524, -100.4115)
  line L76 (-0.0524, -100.4115) -> (13.9476, -114.4115) construction
  line L77 (13.9476, -100.4115) -> (-0.0524, -114.4115) construction
  line L78 (18.9421, -100.4115) -> (32.9421, -100.4115)
  line L79 (32.9421, -100.4115) -> (32.9421, -114.4115)
  line L80 (32.9421, -114.4115) -> (18.9421, -114.4115)
  line L81 (18.9421, -114.4115) -> (18.9421, -100.4115)
  line L82 (18.9421, -100.4115) -> (32.9421, -114.4115) construction
  line L83 (32.9421, -100.4115) -> (18.9421, -114.4115) construction
  point P0 (6.9476, -88.417)
  point P1 (25.9421, -69.4225)
  point P2 (25.9421, -88.417)
  point P3 (6.9476, -107.4115)
  point P4 (25.9421, -107.4115)
  point P5 (6.9476, -88.417)
  point P6 (25.9421, -69.4225)
  point P7 (25.9421, -88.417)
  point P8 (6.9476, -107.4115)
  point P9 (25.9421, -107.4115)
  dimension "d43" = 12
  dimension "d44" = 12
  dimension "d45" = 12
  dimension "d46" = 12
  dimension "d47" = 12
  dimension "d48" = 12
  dimension "d49" = 12
  dimension "d50" = 12
  dimension "d51" = 12
  dimension "d52" = 12
  dimension "d57" = 14
  dimension "d58" = 14
  dimension "d59" = 14
  dimension "d60" = 14
  dimension "d61" = 14
  dimension "d62" = 14
  dimension "d63" = 14
  dimension "d64" = 14
  dimension "d65" = 14
  dimension "d66" = 14
extrude "Extrude7" cut sketch "Sketch6" against normal blind 1.5 contours A8 A51 | A9 A52 | A10 A53 | A11 A54 | A12 A55 | A13 A56 | A14 A57 | A15 A58 | A16 A59 | A17 A60 | A32 A75 | A33 A76 | A34 A77 | A35 A78 | A36 A79 | A37 A80 | A38 A81 | A39 A82 | A40 A83 | A41 A84 | A42 A85 | A43 A86 | A44 A87 | A45 A88 | A46 A89 | L24 L25 L26 L27 | L30 L31 L32 L33 | L36 L37 L38 L39 | L42 L43 L44 L45 | L48 L49 L50 L51 bodies 5
fillet "Fillet1" radius 1 8 edges at (-50.6708, 6.5, -47.8999) (17.375, 6.5, -47.8999) (-16.6479, 0, -47.8999) (-50.6708, 0, -100.4289) (-50.6708, 6.5, -152.9579) (17.375, 0, -100.4289) (17.375, 6.5, -152.9579) (-16.6479, 0, -152.9579) on bodies 1
extrude "Extrude8" cut sketch "Sketch6" against normal blind 1.5 contours L24 L25 L26 L27 | L54 L55 L56 L57 bodies 5
extrude "Extrude9" cut sketch "Sketch6" against normal blind 1.5 contours L30 L31 L32 L33 | L36 L37 L38 L39 | L42 L43 L44 L45 | L48 L49 L50 L51 | L60 L61 L62 L63 | L66 L67 L68 L69 | L72 L73 L74 L75 | L78 L79 L80 L81 bodies 5
fillet "Fillet2" radius 1 2 edges at (-50.6708, 14.5, -100.4289) (-16.6479, 14.5, -152.9579) 1 faces at (-17.4126, 14.5, -136.6068) on bodies 5
component "top cover" placed x (1, 0, 0) y (0, 1, 0) z (0, 0, 1) at (0, 0, 0)
